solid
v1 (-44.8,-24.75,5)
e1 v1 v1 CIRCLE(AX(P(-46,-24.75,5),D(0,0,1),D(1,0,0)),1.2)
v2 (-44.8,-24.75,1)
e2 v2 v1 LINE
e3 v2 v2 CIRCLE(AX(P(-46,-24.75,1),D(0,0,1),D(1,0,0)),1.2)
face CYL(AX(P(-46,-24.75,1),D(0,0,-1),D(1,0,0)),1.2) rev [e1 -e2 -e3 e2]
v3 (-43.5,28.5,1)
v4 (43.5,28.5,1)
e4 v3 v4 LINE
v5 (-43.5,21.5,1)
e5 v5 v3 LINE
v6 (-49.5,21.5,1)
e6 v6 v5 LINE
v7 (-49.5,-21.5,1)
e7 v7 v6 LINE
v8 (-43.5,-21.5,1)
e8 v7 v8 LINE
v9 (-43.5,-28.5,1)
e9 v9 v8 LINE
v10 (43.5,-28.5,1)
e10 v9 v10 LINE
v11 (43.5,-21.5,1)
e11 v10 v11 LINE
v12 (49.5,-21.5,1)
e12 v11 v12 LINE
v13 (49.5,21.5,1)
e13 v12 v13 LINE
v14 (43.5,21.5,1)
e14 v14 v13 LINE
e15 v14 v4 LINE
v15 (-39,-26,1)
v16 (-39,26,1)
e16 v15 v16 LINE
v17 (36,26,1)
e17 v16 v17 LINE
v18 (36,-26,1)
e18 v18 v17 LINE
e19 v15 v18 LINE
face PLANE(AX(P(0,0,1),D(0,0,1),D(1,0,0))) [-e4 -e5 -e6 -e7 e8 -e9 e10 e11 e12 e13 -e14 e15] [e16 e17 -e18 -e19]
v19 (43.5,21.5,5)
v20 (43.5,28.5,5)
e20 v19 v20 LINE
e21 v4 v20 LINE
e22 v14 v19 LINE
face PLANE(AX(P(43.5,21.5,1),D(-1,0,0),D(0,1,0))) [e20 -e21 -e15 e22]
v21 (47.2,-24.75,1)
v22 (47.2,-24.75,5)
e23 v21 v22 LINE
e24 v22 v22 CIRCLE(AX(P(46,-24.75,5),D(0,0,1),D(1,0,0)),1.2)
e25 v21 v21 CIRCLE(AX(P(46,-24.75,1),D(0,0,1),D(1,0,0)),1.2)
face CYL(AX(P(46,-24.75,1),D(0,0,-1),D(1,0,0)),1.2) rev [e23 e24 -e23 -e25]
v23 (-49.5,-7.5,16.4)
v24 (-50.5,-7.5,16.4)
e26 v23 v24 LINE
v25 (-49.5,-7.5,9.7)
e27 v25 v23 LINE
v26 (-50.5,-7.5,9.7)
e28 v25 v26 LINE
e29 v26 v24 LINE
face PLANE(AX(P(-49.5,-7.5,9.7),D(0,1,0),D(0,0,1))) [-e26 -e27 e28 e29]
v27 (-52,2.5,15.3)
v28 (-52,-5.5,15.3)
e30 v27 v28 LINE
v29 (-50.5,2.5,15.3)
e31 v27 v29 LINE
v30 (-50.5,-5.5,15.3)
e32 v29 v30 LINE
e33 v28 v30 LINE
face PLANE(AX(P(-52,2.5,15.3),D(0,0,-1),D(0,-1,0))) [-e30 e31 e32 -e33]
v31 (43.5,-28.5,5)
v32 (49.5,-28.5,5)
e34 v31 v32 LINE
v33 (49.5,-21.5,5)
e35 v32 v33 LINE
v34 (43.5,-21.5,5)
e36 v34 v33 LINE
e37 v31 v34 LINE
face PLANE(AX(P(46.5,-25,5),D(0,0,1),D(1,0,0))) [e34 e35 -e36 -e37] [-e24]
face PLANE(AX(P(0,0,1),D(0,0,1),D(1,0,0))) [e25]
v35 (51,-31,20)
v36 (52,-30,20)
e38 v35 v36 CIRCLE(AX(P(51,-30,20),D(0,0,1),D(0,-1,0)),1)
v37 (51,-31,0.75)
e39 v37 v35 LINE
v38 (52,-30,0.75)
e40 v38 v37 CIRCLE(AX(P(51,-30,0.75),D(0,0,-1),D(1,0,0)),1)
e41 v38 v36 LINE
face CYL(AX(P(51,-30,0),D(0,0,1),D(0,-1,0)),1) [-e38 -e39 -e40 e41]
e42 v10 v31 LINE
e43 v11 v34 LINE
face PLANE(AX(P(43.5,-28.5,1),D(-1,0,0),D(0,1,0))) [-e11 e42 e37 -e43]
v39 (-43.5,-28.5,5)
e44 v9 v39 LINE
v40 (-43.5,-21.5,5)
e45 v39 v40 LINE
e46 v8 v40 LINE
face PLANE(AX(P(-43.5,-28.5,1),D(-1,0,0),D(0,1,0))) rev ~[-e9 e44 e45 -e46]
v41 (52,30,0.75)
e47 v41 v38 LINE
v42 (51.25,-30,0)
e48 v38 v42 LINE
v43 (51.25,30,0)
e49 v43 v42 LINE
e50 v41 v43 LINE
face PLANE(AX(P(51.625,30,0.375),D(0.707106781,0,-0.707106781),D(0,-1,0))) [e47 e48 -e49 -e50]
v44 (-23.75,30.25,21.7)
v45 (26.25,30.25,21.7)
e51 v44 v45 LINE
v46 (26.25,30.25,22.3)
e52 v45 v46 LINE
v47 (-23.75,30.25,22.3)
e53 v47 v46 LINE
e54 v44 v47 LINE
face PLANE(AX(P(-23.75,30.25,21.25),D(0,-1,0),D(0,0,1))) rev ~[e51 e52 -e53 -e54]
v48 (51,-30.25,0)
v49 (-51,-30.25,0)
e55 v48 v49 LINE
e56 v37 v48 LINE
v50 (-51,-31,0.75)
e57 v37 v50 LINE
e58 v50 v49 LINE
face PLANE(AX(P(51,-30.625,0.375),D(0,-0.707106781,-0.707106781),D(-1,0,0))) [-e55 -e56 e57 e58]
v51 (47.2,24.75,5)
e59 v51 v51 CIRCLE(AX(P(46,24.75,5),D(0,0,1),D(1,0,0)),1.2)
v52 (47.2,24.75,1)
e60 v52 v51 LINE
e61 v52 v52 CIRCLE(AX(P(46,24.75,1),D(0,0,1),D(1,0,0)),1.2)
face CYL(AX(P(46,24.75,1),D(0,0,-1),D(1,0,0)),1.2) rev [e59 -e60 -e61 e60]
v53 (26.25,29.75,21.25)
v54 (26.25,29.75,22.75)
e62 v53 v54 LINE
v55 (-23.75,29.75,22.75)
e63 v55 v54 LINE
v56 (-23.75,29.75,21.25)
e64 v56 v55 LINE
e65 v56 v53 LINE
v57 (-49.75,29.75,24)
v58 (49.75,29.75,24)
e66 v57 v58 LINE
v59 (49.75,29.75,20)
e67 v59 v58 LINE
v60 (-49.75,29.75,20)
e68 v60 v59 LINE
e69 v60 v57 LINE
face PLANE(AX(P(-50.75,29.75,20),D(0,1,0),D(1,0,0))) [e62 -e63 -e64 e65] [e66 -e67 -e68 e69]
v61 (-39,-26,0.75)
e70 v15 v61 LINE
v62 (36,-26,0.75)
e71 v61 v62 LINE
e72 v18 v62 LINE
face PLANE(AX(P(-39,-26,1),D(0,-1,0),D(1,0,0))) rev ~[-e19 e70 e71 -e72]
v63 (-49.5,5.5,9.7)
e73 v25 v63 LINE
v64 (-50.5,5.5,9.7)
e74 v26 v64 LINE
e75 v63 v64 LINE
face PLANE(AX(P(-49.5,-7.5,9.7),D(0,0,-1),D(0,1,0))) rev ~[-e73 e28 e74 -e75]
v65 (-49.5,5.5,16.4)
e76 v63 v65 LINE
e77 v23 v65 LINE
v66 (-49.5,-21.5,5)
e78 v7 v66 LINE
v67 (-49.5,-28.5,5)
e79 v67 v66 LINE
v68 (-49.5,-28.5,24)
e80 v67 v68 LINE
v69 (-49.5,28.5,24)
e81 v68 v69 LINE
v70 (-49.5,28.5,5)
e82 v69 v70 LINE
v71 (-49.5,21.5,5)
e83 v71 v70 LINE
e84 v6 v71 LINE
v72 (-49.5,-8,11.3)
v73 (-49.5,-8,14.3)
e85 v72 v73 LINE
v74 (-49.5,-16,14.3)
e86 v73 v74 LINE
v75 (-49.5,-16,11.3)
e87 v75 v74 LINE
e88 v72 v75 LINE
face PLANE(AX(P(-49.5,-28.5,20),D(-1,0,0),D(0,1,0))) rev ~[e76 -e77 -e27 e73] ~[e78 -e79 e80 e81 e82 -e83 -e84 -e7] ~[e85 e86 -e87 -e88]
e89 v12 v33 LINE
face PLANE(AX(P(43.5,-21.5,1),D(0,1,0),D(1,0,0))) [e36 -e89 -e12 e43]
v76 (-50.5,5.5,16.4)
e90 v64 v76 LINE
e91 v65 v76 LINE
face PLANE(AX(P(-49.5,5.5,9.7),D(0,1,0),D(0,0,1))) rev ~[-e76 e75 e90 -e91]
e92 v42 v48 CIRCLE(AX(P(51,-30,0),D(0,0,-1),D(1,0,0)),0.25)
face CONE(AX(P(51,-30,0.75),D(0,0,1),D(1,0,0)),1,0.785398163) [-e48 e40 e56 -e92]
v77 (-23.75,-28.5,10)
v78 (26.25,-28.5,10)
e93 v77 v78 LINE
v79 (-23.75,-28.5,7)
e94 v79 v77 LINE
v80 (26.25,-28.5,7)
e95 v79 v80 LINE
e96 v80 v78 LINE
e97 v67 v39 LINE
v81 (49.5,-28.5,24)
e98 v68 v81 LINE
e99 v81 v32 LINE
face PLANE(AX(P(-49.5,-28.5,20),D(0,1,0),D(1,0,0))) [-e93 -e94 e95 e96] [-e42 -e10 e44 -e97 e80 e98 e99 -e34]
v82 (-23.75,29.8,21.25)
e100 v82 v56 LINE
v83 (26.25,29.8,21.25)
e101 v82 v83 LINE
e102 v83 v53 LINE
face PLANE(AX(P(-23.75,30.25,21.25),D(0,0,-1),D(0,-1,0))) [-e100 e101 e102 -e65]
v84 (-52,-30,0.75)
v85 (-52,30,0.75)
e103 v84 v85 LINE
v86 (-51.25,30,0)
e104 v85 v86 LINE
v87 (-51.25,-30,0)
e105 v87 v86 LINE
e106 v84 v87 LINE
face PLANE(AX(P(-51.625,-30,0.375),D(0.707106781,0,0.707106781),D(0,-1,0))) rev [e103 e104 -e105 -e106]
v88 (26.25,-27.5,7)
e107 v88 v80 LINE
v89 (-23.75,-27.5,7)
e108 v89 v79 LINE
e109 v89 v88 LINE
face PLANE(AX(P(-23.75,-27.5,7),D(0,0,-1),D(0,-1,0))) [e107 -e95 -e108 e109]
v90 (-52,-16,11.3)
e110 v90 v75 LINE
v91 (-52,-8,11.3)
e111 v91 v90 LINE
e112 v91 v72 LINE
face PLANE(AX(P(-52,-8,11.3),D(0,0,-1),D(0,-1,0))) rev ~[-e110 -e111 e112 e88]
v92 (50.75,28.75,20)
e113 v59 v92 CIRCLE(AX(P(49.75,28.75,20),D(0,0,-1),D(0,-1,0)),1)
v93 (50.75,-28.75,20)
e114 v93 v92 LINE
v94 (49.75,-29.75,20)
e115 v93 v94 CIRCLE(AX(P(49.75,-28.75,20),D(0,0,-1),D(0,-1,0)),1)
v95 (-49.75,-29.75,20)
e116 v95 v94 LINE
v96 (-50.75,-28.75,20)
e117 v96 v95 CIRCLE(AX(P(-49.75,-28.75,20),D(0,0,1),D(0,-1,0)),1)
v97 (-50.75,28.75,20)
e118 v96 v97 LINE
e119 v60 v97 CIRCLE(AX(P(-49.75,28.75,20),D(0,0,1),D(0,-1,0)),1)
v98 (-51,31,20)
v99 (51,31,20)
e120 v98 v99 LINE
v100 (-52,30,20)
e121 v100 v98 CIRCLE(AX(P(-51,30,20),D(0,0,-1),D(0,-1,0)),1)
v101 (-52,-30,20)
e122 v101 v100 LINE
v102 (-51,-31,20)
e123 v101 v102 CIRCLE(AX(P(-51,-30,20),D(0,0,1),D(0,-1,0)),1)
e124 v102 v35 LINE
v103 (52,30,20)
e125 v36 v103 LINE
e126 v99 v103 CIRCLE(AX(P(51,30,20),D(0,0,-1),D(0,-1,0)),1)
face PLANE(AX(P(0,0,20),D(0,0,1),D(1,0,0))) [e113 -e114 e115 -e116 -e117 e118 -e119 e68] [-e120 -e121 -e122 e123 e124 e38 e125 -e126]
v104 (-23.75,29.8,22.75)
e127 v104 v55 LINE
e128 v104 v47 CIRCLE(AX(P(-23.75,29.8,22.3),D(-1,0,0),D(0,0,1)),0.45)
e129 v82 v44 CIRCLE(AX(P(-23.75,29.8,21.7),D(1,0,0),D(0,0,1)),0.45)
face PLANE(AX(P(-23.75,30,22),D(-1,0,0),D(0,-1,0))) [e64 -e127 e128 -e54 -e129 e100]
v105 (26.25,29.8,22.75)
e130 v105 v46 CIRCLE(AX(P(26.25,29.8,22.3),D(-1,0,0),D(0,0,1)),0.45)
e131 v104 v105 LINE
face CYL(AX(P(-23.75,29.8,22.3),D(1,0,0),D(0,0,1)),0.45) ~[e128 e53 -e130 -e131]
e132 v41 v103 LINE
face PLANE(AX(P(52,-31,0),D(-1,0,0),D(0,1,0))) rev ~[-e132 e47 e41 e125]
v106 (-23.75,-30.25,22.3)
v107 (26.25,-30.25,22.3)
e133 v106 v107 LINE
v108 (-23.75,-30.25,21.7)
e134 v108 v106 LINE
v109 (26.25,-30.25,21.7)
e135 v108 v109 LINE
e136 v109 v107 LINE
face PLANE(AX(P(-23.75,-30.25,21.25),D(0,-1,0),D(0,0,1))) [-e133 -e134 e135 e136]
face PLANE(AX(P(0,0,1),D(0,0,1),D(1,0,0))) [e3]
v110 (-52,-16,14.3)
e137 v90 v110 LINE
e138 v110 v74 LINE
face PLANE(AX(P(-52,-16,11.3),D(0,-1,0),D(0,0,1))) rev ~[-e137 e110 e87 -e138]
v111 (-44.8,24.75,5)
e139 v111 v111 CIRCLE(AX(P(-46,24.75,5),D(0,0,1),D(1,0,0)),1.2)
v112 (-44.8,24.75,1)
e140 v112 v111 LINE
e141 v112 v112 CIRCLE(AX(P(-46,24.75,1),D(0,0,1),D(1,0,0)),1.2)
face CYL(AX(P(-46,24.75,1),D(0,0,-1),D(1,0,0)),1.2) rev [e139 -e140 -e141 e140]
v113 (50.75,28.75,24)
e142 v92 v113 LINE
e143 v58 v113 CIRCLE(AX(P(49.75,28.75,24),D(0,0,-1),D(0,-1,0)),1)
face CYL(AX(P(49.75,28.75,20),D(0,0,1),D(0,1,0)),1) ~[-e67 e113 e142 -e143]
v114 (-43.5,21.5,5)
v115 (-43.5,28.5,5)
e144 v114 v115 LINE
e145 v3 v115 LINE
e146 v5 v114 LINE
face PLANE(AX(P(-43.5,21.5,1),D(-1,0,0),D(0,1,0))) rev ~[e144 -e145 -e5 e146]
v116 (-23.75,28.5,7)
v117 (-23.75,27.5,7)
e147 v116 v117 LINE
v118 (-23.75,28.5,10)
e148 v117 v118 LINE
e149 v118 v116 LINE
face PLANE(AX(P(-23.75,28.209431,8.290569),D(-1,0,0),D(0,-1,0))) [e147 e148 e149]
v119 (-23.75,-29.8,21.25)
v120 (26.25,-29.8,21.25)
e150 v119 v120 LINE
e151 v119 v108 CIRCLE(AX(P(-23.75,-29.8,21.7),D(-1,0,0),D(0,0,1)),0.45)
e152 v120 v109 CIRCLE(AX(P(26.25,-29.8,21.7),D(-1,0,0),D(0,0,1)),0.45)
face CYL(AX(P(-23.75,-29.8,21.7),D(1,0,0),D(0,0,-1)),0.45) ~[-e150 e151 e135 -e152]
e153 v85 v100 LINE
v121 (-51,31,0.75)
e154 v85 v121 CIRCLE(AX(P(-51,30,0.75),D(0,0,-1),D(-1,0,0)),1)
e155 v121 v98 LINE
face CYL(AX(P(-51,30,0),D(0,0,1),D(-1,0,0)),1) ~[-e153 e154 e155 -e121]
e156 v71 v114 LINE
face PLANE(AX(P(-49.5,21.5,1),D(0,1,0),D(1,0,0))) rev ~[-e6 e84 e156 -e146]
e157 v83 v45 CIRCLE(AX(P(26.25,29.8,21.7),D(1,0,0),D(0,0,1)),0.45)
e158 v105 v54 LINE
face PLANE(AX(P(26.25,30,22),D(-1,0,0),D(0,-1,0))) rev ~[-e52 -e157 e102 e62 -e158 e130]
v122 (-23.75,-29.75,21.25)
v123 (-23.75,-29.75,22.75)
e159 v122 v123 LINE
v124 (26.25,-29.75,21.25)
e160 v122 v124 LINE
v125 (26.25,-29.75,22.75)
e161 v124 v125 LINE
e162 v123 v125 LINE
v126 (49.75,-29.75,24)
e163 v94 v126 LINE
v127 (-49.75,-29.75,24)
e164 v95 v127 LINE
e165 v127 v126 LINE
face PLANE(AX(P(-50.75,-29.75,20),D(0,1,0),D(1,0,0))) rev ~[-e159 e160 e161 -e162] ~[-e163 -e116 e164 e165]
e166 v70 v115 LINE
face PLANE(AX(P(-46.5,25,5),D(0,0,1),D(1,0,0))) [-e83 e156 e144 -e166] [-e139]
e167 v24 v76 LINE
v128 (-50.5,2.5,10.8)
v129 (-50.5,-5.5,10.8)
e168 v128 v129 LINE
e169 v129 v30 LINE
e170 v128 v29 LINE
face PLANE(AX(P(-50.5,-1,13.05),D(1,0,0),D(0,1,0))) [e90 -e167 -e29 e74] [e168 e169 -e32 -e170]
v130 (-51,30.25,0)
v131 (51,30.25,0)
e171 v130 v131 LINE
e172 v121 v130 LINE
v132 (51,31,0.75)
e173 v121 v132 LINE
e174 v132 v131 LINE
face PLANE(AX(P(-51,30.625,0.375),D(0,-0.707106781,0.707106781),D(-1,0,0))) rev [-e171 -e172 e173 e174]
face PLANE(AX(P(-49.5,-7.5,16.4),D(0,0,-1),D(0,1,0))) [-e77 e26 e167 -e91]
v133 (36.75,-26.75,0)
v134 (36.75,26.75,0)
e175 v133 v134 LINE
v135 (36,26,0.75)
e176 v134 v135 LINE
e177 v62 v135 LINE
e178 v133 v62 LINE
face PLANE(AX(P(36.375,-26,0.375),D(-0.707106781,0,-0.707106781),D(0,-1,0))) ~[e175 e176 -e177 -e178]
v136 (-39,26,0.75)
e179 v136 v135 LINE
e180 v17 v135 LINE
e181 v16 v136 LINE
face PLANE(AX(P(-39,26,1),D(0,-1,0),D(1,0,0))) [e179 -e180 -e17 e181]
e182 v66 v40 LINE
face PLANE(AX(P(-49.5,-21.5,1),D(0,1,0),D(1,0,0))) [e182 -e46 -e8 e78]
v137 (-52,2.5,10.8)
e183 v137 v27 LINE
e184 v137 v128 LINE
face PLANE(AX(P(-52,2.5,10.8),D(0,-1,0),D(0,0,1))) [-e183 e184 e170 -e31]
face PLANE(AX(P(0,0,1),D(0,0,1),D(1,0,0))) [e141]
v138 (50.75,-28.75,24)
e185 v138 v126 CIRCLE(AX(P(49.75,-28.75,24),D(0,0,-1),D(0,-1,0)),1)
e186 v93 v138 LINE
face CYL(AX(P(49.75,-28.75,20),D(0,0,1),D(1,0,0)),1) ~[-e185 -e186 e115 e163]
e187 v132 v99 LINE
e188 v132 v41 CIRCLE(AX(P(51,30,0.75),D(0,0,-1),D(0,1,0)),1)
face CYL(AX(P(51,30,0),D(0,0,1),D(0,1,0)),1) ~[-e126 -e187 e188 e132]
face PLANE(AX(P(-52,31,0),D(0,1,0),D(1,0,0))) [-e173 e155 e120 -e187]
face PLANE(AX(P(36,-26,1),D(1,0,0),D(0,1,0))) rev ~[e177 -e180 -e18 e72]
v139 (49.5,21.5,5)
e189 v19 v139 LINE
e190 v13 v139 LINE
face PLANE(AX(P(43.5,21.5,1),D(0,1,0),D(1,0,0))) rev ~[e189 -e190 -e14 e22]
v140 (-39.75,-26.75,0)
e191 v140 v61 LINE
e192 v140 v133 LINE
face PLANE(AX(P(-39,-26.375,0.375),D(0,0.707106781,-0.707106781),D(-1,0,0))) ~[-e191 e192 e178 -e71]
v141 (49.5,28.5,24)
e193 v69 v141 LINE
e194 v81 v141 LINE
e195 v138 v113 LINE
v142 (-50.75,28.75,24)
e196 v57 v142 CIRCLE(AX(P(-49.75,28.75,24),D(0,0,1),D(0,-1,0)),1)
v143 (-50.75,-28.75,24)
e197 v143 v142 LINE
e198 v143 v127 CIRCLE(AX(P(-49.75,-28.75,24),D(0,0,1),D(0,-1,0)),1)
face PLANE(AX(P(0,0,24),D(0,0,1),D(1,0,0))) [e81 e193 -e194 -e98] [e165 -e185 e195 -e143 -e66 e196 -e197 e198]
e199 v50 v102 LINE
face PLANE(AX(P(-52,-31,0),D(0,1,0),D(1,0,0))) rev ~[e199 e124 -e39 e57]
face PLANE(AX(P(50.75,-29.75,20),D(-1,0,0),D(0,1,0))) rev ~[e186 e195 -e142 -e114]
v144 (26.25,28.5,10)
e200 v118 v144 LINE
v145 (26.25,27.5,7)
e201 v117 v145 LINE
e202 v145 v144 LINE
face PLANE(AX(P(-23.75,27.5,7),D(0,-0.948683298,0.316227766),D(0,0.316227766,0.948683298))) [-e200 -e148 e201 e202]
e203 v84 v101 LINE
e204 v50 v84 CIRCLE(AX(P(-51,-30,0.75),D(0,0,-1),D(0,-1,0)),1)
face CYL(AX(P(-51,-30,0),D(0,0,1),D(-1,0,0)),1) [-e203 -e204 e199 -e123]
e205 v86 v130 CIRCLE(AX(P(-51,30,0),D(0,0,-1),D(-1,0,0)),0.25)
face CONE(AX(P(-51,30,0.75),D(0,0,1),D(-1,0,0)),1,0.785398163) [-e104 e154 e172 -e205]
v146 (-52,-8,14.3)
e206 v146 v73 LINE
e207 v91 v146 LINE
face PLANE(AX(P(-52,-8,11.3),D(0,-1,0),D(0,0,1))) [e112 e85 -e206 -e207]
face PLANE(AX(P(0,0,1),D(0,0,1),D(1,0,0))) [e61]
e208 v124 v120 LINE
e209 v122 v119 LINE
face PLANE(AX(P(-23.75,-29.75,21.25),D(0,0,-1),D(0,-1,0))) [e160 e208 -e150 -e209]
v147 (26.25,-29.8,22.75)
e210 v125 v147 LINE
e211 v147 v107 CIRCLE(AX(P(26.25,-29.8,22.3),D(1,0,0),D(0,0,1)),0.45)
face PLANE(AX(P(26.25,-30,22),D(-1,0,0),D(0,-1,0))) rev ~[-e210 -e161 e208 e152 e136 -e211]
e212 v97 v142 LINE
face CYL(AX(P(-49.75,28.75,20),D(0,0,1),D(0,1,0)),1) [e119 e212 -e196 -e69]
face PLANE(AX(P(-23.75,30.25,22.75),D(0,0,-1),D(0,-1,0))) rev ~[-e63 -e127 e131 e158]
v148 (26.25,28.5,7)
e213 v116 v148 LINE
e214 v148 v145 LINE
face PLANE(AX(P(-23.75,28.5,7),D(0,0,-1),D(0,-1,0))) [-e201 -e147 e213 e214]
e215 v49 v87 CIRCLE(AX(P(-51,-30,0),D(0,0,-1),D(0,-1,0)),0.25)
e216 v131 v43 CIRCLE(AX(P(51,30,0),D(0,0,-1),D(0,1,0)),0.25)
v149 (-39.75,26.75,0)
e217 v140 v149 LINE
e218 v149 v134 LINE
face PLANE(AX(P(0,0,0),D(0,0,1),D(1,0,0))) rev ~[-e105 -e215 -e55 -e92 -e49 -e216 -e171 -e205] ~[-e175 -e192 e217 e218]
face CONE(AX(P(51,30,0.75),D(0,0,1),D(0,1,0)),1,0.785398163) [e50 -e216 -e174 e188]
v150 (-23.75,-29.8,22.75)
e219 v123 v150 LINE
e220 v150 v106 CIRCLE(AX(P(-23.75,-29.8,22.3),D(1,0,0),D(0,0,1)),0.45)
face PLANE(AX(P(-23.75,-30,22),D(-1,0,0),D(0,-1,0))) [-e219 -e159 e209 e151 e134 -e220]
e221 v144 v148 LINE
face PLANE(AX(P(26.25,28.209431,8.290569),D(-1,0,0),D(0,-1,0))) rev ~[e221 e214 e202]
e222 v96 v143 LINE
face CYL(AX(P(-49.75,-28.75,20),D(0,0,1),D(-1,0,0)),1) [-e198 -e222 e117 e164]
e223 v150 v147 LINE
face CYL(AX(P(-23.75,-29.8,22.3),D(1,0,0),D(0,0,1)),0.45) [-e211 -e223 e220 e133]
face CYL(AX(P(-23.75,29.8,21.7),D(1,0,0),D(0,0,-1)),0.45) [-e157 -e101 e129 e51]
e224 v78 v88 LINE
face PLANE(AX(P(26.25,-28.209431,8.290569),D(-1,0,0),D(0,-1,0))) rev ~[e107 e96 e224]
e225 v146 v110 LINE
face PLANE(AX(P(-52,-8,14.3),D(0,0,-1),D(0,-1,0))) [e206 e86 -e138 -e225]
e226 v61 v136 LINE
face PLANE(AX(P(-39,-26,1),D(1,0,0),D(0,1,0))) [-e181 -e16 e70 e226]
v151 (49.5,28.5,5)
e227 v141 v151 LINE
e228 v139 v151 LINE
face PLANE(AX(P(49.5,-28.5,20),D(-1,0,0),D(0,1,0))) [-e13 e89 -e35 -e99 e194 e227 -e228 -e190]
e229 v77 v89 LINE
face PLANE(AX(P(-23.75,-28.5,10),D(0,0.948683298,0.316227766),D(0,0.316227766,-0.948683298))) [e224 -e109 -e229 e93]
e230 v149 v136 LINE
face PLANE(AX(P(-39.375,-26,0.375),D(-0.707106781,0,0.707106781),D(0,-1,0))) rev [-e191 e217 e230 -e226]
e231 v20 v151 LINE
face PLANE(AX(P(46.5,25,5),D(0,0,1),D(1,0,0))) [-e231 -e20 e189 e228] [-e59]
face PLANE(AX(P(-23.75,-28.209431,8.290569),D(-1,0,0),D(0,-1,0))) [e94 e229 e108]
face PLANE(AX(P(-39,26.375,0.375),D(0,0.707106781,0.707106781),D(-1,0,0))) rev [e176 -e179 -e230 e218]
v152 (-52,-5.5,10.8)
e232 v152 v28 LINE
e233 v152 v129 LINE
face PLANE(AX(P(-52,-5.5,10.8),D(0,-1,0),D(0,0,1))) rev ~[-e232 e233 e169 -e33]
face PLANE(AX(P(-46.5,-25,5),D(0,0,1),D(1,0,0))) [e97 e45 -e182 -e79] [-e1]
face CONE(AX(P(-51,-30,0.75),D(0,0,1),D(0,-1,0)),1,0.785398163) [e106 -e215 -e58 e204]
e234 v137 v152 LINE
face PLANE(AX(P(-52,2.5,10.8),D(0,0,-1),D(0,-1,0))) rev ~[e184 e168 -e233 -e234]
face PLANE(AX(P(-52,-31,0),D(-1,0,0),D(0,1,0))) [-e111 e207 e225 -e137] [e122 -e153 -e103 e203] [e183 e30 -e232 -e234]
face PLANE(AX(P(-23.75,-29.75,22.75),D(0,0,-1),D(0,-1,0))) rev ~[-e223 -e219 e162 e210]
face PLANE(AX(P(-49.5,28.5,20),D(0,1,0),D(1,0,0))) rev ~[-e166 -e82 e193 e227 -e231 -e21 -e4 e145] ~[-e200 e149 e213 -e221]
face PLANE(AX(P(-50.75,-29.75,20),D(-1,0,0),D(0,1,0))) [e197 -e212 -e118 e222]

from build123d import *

# Parameters (mm, degrees)
SKETCH_W        = 104
SKETCH_H        = 62
PAD_DEPTH       = 20
SKETCH001_W     = 99
SKETCH001_H     = 57
POCKET_DEPTH    = 19
SKETCH002_W     = 6
SKETCH002_H     = 7
SKETCH002_R     = 1.2
PAD001_DEPTH    = 4
SKETCH003_W     = 75
SKETCH003_H     = 52
POCKET001_DEPTH = 1
SKETCH004_W     = 101.5
SKETCH004_H     = 59.5
SKETCH004_W_2   = 99
SKETCH004_H_2   = 57
PAD002_DEPTH    = 4
SKETCH005_W     = 0.5
SKETCH005_H     = 1.5
PAD003_DEPTH    = 50
FILLET_R        = 0.45
FILLET001_R     = 0.45
FILLET002_R     = 1
CHAMFER_SIZE    = 0.75
CHAMFER001_SIZE = 0.75
SKETCH006_W     = 8
SKETCH006_H     = 3
SKETCH006_H_2   = 4.5
POCKET002_DEPTH = 2.5
SKETCH009_W     = 13
SKETCH009_H     = 6.7
POCKET003_DEPTH = 1


with BuildPart() as part:
    # Sketch → Pad (new body)
    with BuildSketch(Plane.XY):
        Rectangle(SKETCH_W, SKETCH_H)
    extrude(amount=PAD_DEPTH)

    # Sketch001 (on Face6 of Pad) → Pocket (cut)
    with BuildSketch(Plane.XY.offset(20)):
        Rectangle(SKETCH001_W, SKETCH001_H)
    extrude(amount=-POCKET_DEPTH, mode=Mode.SUBTRACT)

    # Sketch002 (on Face11 of Pocket) → Pad001 (join)
    with BuildSketch(Plane.XY.offset(1)):
        with Locations((-46.5, 25)):
            Rectangle(SKETCH002_W, SKETCH002_H)
        with Locations((-46, 24.75)):
            Circle(SKETCH002_R, mode=Mode.SUBTRACT)
        with Locations((46.5, 25)):
            Rectangle(SKETCH002_W, SKETCH002_H)
        with Locations((46, 24.75)):
            Circle(SKETCH002_R, mode=Mode.SUBTRACT)
        with Locations((-46.5, -25)):
            Rectangle(SKETCH002_W, SKETCH002_H)
        with Locations((-46, -24.75)):
            Circle(SKETCH002_R, mode=Mode.SUBTRACT)
        with Locations((46.5, -25)):
            Rectangle(SKETCH002_W, SKETCH002_H)
        with Locations((46, -24.75)):
            Circle(SKETCH002_R, mode=Mode.SUBTRACT)
    extrude(amount=PAD001_DEPTH)

    # Sketch003 (on Face13 of Pad001) → Pocket001 (cut)
    with BuildSketch(Plane.XY.offset(1)):
        with Locations((-1.5, 0)):
            Rectangle(SKETCH003_W, SKETCH003_H)
    extrude(amount=-POCKET001_DEPTH, mode=Mode.SUBTRACT)

    # Sketch004 (on Face5 of Pocket001) → Pad002 (join)
    with BuildSketch(Plane.XY.offset(20)):
        Rectangle(SKETCH004_W, SKETCH004_H)
        Rectangle(SKETCH004_W_2, SKETCH004_H_2, mode=Mode.SUBTRACT)
    extrude(amount=PAD002_DEPTH)

    # Sketch005 (on Face14 of Pad002) → Pad003 (join)
    with BuildSketch(Plane(origin=(-23.75, 0, 0), x_dir=(0, -1, 0), z_dir=(-1, 0, 0))):
        with Locations((-30, 22)):
            Rectangle(SKETCH005_W, SKETCH005_H)
        with Locations((30, 22)):
            Rectangle(SKETCH005_W, SKETCH005_H)
        Polygon((-28.5, 7), (-27.5, 7), (-28.5, 10), align=None)
        Polygon((28.5, 7), (28.5, 10), (27.5, 7), align=None)
    extrude(amount=-PAD003_DEPTH)

    # Fillet
    fillet_edges = [part.edges().sort_by_distance(p)[0] for p in [
        (1.25, -30.25, 22.75),
        (1.25, -30.25, 21.25),
    ]]
    fillet(fillet_edges, radius=FILLET_R)

    # Fillet001
    fillet001_edges = [part.edges().sort_by_distance(p)[0] for p in [
        (1.25, 30.25, 22.75),
        (1.25, 30.25, 21.25),
    ]]
    fillet(fillet001_edges, radius=FILLET001_R)

    # Fillet002
    fillet002_edges = [part.edges().sort_by_distance(p)[0] for p in [
        (-50.75, -29.75, 22),
        (-52, -31, 10),
        (-50.75, 29.75, 22),
        (-52, 31, 10),
        (50.75, 29.75, 22),
        (52, 31, 10),
        (50.75, -29.75, 22),
        (52, -31, 10),
    ]]
    fillet(fillet002_edges, radius=FILLET002_R)

    # Chamfer
    chamfer_edges = [part.edges().sort_by_distance(p)[0] for p in [
        (-52, 0, 0),
        (0, -31, 0),
        (52, 0, 0),
        (0, 31, 0),
    ]]
    chamfer(chamfer_edges, length=CHAMFER_SIZE)

    # Chamfer001
    chamfer001_edges = [part.edges().sort_by_distance(p)[0] for p in [
        (-39, 0, 0),
        (-1.5, -26, 0),
        (36, 0, 0),
        (-1.5, 26, 0),
    ]]
    chamfer(chamfer001_edges, length=CHAMFER001_SIZE)

    # Sketch006 (on Face2 of Pad003) → Pocket002 (cut)
    with BuildSketch(Plane(origin=(-52, 0, 0), x_dir=(0, -1, 0), z_dir=(-1, 0, 0))):
        with Locations((12, 12.8)):
            Rectangle(SKETCH006_W, SKETCH006_H)
        with Locations((1.5, 13.05)):
            Rectangle(SKETCH006_W, SKETCH006_H_2)
    extrude(amount=-POCKET002_DEPTH, mode=Mode.SUBTRACT)

    # Sketch009 (on Face40 of Pocket002) → Pocket003 (cut)
    with BuildSketch(Plane.YZ.offset(-49.5)):
        with Locations((-1, 13.05)):
            Rectangle(SKETCH009_W, SKETCH009_H)
    extrude(amount=-POCKET003_DEPTH, mode=Mode.SUBTRACT)


solid = part.part
